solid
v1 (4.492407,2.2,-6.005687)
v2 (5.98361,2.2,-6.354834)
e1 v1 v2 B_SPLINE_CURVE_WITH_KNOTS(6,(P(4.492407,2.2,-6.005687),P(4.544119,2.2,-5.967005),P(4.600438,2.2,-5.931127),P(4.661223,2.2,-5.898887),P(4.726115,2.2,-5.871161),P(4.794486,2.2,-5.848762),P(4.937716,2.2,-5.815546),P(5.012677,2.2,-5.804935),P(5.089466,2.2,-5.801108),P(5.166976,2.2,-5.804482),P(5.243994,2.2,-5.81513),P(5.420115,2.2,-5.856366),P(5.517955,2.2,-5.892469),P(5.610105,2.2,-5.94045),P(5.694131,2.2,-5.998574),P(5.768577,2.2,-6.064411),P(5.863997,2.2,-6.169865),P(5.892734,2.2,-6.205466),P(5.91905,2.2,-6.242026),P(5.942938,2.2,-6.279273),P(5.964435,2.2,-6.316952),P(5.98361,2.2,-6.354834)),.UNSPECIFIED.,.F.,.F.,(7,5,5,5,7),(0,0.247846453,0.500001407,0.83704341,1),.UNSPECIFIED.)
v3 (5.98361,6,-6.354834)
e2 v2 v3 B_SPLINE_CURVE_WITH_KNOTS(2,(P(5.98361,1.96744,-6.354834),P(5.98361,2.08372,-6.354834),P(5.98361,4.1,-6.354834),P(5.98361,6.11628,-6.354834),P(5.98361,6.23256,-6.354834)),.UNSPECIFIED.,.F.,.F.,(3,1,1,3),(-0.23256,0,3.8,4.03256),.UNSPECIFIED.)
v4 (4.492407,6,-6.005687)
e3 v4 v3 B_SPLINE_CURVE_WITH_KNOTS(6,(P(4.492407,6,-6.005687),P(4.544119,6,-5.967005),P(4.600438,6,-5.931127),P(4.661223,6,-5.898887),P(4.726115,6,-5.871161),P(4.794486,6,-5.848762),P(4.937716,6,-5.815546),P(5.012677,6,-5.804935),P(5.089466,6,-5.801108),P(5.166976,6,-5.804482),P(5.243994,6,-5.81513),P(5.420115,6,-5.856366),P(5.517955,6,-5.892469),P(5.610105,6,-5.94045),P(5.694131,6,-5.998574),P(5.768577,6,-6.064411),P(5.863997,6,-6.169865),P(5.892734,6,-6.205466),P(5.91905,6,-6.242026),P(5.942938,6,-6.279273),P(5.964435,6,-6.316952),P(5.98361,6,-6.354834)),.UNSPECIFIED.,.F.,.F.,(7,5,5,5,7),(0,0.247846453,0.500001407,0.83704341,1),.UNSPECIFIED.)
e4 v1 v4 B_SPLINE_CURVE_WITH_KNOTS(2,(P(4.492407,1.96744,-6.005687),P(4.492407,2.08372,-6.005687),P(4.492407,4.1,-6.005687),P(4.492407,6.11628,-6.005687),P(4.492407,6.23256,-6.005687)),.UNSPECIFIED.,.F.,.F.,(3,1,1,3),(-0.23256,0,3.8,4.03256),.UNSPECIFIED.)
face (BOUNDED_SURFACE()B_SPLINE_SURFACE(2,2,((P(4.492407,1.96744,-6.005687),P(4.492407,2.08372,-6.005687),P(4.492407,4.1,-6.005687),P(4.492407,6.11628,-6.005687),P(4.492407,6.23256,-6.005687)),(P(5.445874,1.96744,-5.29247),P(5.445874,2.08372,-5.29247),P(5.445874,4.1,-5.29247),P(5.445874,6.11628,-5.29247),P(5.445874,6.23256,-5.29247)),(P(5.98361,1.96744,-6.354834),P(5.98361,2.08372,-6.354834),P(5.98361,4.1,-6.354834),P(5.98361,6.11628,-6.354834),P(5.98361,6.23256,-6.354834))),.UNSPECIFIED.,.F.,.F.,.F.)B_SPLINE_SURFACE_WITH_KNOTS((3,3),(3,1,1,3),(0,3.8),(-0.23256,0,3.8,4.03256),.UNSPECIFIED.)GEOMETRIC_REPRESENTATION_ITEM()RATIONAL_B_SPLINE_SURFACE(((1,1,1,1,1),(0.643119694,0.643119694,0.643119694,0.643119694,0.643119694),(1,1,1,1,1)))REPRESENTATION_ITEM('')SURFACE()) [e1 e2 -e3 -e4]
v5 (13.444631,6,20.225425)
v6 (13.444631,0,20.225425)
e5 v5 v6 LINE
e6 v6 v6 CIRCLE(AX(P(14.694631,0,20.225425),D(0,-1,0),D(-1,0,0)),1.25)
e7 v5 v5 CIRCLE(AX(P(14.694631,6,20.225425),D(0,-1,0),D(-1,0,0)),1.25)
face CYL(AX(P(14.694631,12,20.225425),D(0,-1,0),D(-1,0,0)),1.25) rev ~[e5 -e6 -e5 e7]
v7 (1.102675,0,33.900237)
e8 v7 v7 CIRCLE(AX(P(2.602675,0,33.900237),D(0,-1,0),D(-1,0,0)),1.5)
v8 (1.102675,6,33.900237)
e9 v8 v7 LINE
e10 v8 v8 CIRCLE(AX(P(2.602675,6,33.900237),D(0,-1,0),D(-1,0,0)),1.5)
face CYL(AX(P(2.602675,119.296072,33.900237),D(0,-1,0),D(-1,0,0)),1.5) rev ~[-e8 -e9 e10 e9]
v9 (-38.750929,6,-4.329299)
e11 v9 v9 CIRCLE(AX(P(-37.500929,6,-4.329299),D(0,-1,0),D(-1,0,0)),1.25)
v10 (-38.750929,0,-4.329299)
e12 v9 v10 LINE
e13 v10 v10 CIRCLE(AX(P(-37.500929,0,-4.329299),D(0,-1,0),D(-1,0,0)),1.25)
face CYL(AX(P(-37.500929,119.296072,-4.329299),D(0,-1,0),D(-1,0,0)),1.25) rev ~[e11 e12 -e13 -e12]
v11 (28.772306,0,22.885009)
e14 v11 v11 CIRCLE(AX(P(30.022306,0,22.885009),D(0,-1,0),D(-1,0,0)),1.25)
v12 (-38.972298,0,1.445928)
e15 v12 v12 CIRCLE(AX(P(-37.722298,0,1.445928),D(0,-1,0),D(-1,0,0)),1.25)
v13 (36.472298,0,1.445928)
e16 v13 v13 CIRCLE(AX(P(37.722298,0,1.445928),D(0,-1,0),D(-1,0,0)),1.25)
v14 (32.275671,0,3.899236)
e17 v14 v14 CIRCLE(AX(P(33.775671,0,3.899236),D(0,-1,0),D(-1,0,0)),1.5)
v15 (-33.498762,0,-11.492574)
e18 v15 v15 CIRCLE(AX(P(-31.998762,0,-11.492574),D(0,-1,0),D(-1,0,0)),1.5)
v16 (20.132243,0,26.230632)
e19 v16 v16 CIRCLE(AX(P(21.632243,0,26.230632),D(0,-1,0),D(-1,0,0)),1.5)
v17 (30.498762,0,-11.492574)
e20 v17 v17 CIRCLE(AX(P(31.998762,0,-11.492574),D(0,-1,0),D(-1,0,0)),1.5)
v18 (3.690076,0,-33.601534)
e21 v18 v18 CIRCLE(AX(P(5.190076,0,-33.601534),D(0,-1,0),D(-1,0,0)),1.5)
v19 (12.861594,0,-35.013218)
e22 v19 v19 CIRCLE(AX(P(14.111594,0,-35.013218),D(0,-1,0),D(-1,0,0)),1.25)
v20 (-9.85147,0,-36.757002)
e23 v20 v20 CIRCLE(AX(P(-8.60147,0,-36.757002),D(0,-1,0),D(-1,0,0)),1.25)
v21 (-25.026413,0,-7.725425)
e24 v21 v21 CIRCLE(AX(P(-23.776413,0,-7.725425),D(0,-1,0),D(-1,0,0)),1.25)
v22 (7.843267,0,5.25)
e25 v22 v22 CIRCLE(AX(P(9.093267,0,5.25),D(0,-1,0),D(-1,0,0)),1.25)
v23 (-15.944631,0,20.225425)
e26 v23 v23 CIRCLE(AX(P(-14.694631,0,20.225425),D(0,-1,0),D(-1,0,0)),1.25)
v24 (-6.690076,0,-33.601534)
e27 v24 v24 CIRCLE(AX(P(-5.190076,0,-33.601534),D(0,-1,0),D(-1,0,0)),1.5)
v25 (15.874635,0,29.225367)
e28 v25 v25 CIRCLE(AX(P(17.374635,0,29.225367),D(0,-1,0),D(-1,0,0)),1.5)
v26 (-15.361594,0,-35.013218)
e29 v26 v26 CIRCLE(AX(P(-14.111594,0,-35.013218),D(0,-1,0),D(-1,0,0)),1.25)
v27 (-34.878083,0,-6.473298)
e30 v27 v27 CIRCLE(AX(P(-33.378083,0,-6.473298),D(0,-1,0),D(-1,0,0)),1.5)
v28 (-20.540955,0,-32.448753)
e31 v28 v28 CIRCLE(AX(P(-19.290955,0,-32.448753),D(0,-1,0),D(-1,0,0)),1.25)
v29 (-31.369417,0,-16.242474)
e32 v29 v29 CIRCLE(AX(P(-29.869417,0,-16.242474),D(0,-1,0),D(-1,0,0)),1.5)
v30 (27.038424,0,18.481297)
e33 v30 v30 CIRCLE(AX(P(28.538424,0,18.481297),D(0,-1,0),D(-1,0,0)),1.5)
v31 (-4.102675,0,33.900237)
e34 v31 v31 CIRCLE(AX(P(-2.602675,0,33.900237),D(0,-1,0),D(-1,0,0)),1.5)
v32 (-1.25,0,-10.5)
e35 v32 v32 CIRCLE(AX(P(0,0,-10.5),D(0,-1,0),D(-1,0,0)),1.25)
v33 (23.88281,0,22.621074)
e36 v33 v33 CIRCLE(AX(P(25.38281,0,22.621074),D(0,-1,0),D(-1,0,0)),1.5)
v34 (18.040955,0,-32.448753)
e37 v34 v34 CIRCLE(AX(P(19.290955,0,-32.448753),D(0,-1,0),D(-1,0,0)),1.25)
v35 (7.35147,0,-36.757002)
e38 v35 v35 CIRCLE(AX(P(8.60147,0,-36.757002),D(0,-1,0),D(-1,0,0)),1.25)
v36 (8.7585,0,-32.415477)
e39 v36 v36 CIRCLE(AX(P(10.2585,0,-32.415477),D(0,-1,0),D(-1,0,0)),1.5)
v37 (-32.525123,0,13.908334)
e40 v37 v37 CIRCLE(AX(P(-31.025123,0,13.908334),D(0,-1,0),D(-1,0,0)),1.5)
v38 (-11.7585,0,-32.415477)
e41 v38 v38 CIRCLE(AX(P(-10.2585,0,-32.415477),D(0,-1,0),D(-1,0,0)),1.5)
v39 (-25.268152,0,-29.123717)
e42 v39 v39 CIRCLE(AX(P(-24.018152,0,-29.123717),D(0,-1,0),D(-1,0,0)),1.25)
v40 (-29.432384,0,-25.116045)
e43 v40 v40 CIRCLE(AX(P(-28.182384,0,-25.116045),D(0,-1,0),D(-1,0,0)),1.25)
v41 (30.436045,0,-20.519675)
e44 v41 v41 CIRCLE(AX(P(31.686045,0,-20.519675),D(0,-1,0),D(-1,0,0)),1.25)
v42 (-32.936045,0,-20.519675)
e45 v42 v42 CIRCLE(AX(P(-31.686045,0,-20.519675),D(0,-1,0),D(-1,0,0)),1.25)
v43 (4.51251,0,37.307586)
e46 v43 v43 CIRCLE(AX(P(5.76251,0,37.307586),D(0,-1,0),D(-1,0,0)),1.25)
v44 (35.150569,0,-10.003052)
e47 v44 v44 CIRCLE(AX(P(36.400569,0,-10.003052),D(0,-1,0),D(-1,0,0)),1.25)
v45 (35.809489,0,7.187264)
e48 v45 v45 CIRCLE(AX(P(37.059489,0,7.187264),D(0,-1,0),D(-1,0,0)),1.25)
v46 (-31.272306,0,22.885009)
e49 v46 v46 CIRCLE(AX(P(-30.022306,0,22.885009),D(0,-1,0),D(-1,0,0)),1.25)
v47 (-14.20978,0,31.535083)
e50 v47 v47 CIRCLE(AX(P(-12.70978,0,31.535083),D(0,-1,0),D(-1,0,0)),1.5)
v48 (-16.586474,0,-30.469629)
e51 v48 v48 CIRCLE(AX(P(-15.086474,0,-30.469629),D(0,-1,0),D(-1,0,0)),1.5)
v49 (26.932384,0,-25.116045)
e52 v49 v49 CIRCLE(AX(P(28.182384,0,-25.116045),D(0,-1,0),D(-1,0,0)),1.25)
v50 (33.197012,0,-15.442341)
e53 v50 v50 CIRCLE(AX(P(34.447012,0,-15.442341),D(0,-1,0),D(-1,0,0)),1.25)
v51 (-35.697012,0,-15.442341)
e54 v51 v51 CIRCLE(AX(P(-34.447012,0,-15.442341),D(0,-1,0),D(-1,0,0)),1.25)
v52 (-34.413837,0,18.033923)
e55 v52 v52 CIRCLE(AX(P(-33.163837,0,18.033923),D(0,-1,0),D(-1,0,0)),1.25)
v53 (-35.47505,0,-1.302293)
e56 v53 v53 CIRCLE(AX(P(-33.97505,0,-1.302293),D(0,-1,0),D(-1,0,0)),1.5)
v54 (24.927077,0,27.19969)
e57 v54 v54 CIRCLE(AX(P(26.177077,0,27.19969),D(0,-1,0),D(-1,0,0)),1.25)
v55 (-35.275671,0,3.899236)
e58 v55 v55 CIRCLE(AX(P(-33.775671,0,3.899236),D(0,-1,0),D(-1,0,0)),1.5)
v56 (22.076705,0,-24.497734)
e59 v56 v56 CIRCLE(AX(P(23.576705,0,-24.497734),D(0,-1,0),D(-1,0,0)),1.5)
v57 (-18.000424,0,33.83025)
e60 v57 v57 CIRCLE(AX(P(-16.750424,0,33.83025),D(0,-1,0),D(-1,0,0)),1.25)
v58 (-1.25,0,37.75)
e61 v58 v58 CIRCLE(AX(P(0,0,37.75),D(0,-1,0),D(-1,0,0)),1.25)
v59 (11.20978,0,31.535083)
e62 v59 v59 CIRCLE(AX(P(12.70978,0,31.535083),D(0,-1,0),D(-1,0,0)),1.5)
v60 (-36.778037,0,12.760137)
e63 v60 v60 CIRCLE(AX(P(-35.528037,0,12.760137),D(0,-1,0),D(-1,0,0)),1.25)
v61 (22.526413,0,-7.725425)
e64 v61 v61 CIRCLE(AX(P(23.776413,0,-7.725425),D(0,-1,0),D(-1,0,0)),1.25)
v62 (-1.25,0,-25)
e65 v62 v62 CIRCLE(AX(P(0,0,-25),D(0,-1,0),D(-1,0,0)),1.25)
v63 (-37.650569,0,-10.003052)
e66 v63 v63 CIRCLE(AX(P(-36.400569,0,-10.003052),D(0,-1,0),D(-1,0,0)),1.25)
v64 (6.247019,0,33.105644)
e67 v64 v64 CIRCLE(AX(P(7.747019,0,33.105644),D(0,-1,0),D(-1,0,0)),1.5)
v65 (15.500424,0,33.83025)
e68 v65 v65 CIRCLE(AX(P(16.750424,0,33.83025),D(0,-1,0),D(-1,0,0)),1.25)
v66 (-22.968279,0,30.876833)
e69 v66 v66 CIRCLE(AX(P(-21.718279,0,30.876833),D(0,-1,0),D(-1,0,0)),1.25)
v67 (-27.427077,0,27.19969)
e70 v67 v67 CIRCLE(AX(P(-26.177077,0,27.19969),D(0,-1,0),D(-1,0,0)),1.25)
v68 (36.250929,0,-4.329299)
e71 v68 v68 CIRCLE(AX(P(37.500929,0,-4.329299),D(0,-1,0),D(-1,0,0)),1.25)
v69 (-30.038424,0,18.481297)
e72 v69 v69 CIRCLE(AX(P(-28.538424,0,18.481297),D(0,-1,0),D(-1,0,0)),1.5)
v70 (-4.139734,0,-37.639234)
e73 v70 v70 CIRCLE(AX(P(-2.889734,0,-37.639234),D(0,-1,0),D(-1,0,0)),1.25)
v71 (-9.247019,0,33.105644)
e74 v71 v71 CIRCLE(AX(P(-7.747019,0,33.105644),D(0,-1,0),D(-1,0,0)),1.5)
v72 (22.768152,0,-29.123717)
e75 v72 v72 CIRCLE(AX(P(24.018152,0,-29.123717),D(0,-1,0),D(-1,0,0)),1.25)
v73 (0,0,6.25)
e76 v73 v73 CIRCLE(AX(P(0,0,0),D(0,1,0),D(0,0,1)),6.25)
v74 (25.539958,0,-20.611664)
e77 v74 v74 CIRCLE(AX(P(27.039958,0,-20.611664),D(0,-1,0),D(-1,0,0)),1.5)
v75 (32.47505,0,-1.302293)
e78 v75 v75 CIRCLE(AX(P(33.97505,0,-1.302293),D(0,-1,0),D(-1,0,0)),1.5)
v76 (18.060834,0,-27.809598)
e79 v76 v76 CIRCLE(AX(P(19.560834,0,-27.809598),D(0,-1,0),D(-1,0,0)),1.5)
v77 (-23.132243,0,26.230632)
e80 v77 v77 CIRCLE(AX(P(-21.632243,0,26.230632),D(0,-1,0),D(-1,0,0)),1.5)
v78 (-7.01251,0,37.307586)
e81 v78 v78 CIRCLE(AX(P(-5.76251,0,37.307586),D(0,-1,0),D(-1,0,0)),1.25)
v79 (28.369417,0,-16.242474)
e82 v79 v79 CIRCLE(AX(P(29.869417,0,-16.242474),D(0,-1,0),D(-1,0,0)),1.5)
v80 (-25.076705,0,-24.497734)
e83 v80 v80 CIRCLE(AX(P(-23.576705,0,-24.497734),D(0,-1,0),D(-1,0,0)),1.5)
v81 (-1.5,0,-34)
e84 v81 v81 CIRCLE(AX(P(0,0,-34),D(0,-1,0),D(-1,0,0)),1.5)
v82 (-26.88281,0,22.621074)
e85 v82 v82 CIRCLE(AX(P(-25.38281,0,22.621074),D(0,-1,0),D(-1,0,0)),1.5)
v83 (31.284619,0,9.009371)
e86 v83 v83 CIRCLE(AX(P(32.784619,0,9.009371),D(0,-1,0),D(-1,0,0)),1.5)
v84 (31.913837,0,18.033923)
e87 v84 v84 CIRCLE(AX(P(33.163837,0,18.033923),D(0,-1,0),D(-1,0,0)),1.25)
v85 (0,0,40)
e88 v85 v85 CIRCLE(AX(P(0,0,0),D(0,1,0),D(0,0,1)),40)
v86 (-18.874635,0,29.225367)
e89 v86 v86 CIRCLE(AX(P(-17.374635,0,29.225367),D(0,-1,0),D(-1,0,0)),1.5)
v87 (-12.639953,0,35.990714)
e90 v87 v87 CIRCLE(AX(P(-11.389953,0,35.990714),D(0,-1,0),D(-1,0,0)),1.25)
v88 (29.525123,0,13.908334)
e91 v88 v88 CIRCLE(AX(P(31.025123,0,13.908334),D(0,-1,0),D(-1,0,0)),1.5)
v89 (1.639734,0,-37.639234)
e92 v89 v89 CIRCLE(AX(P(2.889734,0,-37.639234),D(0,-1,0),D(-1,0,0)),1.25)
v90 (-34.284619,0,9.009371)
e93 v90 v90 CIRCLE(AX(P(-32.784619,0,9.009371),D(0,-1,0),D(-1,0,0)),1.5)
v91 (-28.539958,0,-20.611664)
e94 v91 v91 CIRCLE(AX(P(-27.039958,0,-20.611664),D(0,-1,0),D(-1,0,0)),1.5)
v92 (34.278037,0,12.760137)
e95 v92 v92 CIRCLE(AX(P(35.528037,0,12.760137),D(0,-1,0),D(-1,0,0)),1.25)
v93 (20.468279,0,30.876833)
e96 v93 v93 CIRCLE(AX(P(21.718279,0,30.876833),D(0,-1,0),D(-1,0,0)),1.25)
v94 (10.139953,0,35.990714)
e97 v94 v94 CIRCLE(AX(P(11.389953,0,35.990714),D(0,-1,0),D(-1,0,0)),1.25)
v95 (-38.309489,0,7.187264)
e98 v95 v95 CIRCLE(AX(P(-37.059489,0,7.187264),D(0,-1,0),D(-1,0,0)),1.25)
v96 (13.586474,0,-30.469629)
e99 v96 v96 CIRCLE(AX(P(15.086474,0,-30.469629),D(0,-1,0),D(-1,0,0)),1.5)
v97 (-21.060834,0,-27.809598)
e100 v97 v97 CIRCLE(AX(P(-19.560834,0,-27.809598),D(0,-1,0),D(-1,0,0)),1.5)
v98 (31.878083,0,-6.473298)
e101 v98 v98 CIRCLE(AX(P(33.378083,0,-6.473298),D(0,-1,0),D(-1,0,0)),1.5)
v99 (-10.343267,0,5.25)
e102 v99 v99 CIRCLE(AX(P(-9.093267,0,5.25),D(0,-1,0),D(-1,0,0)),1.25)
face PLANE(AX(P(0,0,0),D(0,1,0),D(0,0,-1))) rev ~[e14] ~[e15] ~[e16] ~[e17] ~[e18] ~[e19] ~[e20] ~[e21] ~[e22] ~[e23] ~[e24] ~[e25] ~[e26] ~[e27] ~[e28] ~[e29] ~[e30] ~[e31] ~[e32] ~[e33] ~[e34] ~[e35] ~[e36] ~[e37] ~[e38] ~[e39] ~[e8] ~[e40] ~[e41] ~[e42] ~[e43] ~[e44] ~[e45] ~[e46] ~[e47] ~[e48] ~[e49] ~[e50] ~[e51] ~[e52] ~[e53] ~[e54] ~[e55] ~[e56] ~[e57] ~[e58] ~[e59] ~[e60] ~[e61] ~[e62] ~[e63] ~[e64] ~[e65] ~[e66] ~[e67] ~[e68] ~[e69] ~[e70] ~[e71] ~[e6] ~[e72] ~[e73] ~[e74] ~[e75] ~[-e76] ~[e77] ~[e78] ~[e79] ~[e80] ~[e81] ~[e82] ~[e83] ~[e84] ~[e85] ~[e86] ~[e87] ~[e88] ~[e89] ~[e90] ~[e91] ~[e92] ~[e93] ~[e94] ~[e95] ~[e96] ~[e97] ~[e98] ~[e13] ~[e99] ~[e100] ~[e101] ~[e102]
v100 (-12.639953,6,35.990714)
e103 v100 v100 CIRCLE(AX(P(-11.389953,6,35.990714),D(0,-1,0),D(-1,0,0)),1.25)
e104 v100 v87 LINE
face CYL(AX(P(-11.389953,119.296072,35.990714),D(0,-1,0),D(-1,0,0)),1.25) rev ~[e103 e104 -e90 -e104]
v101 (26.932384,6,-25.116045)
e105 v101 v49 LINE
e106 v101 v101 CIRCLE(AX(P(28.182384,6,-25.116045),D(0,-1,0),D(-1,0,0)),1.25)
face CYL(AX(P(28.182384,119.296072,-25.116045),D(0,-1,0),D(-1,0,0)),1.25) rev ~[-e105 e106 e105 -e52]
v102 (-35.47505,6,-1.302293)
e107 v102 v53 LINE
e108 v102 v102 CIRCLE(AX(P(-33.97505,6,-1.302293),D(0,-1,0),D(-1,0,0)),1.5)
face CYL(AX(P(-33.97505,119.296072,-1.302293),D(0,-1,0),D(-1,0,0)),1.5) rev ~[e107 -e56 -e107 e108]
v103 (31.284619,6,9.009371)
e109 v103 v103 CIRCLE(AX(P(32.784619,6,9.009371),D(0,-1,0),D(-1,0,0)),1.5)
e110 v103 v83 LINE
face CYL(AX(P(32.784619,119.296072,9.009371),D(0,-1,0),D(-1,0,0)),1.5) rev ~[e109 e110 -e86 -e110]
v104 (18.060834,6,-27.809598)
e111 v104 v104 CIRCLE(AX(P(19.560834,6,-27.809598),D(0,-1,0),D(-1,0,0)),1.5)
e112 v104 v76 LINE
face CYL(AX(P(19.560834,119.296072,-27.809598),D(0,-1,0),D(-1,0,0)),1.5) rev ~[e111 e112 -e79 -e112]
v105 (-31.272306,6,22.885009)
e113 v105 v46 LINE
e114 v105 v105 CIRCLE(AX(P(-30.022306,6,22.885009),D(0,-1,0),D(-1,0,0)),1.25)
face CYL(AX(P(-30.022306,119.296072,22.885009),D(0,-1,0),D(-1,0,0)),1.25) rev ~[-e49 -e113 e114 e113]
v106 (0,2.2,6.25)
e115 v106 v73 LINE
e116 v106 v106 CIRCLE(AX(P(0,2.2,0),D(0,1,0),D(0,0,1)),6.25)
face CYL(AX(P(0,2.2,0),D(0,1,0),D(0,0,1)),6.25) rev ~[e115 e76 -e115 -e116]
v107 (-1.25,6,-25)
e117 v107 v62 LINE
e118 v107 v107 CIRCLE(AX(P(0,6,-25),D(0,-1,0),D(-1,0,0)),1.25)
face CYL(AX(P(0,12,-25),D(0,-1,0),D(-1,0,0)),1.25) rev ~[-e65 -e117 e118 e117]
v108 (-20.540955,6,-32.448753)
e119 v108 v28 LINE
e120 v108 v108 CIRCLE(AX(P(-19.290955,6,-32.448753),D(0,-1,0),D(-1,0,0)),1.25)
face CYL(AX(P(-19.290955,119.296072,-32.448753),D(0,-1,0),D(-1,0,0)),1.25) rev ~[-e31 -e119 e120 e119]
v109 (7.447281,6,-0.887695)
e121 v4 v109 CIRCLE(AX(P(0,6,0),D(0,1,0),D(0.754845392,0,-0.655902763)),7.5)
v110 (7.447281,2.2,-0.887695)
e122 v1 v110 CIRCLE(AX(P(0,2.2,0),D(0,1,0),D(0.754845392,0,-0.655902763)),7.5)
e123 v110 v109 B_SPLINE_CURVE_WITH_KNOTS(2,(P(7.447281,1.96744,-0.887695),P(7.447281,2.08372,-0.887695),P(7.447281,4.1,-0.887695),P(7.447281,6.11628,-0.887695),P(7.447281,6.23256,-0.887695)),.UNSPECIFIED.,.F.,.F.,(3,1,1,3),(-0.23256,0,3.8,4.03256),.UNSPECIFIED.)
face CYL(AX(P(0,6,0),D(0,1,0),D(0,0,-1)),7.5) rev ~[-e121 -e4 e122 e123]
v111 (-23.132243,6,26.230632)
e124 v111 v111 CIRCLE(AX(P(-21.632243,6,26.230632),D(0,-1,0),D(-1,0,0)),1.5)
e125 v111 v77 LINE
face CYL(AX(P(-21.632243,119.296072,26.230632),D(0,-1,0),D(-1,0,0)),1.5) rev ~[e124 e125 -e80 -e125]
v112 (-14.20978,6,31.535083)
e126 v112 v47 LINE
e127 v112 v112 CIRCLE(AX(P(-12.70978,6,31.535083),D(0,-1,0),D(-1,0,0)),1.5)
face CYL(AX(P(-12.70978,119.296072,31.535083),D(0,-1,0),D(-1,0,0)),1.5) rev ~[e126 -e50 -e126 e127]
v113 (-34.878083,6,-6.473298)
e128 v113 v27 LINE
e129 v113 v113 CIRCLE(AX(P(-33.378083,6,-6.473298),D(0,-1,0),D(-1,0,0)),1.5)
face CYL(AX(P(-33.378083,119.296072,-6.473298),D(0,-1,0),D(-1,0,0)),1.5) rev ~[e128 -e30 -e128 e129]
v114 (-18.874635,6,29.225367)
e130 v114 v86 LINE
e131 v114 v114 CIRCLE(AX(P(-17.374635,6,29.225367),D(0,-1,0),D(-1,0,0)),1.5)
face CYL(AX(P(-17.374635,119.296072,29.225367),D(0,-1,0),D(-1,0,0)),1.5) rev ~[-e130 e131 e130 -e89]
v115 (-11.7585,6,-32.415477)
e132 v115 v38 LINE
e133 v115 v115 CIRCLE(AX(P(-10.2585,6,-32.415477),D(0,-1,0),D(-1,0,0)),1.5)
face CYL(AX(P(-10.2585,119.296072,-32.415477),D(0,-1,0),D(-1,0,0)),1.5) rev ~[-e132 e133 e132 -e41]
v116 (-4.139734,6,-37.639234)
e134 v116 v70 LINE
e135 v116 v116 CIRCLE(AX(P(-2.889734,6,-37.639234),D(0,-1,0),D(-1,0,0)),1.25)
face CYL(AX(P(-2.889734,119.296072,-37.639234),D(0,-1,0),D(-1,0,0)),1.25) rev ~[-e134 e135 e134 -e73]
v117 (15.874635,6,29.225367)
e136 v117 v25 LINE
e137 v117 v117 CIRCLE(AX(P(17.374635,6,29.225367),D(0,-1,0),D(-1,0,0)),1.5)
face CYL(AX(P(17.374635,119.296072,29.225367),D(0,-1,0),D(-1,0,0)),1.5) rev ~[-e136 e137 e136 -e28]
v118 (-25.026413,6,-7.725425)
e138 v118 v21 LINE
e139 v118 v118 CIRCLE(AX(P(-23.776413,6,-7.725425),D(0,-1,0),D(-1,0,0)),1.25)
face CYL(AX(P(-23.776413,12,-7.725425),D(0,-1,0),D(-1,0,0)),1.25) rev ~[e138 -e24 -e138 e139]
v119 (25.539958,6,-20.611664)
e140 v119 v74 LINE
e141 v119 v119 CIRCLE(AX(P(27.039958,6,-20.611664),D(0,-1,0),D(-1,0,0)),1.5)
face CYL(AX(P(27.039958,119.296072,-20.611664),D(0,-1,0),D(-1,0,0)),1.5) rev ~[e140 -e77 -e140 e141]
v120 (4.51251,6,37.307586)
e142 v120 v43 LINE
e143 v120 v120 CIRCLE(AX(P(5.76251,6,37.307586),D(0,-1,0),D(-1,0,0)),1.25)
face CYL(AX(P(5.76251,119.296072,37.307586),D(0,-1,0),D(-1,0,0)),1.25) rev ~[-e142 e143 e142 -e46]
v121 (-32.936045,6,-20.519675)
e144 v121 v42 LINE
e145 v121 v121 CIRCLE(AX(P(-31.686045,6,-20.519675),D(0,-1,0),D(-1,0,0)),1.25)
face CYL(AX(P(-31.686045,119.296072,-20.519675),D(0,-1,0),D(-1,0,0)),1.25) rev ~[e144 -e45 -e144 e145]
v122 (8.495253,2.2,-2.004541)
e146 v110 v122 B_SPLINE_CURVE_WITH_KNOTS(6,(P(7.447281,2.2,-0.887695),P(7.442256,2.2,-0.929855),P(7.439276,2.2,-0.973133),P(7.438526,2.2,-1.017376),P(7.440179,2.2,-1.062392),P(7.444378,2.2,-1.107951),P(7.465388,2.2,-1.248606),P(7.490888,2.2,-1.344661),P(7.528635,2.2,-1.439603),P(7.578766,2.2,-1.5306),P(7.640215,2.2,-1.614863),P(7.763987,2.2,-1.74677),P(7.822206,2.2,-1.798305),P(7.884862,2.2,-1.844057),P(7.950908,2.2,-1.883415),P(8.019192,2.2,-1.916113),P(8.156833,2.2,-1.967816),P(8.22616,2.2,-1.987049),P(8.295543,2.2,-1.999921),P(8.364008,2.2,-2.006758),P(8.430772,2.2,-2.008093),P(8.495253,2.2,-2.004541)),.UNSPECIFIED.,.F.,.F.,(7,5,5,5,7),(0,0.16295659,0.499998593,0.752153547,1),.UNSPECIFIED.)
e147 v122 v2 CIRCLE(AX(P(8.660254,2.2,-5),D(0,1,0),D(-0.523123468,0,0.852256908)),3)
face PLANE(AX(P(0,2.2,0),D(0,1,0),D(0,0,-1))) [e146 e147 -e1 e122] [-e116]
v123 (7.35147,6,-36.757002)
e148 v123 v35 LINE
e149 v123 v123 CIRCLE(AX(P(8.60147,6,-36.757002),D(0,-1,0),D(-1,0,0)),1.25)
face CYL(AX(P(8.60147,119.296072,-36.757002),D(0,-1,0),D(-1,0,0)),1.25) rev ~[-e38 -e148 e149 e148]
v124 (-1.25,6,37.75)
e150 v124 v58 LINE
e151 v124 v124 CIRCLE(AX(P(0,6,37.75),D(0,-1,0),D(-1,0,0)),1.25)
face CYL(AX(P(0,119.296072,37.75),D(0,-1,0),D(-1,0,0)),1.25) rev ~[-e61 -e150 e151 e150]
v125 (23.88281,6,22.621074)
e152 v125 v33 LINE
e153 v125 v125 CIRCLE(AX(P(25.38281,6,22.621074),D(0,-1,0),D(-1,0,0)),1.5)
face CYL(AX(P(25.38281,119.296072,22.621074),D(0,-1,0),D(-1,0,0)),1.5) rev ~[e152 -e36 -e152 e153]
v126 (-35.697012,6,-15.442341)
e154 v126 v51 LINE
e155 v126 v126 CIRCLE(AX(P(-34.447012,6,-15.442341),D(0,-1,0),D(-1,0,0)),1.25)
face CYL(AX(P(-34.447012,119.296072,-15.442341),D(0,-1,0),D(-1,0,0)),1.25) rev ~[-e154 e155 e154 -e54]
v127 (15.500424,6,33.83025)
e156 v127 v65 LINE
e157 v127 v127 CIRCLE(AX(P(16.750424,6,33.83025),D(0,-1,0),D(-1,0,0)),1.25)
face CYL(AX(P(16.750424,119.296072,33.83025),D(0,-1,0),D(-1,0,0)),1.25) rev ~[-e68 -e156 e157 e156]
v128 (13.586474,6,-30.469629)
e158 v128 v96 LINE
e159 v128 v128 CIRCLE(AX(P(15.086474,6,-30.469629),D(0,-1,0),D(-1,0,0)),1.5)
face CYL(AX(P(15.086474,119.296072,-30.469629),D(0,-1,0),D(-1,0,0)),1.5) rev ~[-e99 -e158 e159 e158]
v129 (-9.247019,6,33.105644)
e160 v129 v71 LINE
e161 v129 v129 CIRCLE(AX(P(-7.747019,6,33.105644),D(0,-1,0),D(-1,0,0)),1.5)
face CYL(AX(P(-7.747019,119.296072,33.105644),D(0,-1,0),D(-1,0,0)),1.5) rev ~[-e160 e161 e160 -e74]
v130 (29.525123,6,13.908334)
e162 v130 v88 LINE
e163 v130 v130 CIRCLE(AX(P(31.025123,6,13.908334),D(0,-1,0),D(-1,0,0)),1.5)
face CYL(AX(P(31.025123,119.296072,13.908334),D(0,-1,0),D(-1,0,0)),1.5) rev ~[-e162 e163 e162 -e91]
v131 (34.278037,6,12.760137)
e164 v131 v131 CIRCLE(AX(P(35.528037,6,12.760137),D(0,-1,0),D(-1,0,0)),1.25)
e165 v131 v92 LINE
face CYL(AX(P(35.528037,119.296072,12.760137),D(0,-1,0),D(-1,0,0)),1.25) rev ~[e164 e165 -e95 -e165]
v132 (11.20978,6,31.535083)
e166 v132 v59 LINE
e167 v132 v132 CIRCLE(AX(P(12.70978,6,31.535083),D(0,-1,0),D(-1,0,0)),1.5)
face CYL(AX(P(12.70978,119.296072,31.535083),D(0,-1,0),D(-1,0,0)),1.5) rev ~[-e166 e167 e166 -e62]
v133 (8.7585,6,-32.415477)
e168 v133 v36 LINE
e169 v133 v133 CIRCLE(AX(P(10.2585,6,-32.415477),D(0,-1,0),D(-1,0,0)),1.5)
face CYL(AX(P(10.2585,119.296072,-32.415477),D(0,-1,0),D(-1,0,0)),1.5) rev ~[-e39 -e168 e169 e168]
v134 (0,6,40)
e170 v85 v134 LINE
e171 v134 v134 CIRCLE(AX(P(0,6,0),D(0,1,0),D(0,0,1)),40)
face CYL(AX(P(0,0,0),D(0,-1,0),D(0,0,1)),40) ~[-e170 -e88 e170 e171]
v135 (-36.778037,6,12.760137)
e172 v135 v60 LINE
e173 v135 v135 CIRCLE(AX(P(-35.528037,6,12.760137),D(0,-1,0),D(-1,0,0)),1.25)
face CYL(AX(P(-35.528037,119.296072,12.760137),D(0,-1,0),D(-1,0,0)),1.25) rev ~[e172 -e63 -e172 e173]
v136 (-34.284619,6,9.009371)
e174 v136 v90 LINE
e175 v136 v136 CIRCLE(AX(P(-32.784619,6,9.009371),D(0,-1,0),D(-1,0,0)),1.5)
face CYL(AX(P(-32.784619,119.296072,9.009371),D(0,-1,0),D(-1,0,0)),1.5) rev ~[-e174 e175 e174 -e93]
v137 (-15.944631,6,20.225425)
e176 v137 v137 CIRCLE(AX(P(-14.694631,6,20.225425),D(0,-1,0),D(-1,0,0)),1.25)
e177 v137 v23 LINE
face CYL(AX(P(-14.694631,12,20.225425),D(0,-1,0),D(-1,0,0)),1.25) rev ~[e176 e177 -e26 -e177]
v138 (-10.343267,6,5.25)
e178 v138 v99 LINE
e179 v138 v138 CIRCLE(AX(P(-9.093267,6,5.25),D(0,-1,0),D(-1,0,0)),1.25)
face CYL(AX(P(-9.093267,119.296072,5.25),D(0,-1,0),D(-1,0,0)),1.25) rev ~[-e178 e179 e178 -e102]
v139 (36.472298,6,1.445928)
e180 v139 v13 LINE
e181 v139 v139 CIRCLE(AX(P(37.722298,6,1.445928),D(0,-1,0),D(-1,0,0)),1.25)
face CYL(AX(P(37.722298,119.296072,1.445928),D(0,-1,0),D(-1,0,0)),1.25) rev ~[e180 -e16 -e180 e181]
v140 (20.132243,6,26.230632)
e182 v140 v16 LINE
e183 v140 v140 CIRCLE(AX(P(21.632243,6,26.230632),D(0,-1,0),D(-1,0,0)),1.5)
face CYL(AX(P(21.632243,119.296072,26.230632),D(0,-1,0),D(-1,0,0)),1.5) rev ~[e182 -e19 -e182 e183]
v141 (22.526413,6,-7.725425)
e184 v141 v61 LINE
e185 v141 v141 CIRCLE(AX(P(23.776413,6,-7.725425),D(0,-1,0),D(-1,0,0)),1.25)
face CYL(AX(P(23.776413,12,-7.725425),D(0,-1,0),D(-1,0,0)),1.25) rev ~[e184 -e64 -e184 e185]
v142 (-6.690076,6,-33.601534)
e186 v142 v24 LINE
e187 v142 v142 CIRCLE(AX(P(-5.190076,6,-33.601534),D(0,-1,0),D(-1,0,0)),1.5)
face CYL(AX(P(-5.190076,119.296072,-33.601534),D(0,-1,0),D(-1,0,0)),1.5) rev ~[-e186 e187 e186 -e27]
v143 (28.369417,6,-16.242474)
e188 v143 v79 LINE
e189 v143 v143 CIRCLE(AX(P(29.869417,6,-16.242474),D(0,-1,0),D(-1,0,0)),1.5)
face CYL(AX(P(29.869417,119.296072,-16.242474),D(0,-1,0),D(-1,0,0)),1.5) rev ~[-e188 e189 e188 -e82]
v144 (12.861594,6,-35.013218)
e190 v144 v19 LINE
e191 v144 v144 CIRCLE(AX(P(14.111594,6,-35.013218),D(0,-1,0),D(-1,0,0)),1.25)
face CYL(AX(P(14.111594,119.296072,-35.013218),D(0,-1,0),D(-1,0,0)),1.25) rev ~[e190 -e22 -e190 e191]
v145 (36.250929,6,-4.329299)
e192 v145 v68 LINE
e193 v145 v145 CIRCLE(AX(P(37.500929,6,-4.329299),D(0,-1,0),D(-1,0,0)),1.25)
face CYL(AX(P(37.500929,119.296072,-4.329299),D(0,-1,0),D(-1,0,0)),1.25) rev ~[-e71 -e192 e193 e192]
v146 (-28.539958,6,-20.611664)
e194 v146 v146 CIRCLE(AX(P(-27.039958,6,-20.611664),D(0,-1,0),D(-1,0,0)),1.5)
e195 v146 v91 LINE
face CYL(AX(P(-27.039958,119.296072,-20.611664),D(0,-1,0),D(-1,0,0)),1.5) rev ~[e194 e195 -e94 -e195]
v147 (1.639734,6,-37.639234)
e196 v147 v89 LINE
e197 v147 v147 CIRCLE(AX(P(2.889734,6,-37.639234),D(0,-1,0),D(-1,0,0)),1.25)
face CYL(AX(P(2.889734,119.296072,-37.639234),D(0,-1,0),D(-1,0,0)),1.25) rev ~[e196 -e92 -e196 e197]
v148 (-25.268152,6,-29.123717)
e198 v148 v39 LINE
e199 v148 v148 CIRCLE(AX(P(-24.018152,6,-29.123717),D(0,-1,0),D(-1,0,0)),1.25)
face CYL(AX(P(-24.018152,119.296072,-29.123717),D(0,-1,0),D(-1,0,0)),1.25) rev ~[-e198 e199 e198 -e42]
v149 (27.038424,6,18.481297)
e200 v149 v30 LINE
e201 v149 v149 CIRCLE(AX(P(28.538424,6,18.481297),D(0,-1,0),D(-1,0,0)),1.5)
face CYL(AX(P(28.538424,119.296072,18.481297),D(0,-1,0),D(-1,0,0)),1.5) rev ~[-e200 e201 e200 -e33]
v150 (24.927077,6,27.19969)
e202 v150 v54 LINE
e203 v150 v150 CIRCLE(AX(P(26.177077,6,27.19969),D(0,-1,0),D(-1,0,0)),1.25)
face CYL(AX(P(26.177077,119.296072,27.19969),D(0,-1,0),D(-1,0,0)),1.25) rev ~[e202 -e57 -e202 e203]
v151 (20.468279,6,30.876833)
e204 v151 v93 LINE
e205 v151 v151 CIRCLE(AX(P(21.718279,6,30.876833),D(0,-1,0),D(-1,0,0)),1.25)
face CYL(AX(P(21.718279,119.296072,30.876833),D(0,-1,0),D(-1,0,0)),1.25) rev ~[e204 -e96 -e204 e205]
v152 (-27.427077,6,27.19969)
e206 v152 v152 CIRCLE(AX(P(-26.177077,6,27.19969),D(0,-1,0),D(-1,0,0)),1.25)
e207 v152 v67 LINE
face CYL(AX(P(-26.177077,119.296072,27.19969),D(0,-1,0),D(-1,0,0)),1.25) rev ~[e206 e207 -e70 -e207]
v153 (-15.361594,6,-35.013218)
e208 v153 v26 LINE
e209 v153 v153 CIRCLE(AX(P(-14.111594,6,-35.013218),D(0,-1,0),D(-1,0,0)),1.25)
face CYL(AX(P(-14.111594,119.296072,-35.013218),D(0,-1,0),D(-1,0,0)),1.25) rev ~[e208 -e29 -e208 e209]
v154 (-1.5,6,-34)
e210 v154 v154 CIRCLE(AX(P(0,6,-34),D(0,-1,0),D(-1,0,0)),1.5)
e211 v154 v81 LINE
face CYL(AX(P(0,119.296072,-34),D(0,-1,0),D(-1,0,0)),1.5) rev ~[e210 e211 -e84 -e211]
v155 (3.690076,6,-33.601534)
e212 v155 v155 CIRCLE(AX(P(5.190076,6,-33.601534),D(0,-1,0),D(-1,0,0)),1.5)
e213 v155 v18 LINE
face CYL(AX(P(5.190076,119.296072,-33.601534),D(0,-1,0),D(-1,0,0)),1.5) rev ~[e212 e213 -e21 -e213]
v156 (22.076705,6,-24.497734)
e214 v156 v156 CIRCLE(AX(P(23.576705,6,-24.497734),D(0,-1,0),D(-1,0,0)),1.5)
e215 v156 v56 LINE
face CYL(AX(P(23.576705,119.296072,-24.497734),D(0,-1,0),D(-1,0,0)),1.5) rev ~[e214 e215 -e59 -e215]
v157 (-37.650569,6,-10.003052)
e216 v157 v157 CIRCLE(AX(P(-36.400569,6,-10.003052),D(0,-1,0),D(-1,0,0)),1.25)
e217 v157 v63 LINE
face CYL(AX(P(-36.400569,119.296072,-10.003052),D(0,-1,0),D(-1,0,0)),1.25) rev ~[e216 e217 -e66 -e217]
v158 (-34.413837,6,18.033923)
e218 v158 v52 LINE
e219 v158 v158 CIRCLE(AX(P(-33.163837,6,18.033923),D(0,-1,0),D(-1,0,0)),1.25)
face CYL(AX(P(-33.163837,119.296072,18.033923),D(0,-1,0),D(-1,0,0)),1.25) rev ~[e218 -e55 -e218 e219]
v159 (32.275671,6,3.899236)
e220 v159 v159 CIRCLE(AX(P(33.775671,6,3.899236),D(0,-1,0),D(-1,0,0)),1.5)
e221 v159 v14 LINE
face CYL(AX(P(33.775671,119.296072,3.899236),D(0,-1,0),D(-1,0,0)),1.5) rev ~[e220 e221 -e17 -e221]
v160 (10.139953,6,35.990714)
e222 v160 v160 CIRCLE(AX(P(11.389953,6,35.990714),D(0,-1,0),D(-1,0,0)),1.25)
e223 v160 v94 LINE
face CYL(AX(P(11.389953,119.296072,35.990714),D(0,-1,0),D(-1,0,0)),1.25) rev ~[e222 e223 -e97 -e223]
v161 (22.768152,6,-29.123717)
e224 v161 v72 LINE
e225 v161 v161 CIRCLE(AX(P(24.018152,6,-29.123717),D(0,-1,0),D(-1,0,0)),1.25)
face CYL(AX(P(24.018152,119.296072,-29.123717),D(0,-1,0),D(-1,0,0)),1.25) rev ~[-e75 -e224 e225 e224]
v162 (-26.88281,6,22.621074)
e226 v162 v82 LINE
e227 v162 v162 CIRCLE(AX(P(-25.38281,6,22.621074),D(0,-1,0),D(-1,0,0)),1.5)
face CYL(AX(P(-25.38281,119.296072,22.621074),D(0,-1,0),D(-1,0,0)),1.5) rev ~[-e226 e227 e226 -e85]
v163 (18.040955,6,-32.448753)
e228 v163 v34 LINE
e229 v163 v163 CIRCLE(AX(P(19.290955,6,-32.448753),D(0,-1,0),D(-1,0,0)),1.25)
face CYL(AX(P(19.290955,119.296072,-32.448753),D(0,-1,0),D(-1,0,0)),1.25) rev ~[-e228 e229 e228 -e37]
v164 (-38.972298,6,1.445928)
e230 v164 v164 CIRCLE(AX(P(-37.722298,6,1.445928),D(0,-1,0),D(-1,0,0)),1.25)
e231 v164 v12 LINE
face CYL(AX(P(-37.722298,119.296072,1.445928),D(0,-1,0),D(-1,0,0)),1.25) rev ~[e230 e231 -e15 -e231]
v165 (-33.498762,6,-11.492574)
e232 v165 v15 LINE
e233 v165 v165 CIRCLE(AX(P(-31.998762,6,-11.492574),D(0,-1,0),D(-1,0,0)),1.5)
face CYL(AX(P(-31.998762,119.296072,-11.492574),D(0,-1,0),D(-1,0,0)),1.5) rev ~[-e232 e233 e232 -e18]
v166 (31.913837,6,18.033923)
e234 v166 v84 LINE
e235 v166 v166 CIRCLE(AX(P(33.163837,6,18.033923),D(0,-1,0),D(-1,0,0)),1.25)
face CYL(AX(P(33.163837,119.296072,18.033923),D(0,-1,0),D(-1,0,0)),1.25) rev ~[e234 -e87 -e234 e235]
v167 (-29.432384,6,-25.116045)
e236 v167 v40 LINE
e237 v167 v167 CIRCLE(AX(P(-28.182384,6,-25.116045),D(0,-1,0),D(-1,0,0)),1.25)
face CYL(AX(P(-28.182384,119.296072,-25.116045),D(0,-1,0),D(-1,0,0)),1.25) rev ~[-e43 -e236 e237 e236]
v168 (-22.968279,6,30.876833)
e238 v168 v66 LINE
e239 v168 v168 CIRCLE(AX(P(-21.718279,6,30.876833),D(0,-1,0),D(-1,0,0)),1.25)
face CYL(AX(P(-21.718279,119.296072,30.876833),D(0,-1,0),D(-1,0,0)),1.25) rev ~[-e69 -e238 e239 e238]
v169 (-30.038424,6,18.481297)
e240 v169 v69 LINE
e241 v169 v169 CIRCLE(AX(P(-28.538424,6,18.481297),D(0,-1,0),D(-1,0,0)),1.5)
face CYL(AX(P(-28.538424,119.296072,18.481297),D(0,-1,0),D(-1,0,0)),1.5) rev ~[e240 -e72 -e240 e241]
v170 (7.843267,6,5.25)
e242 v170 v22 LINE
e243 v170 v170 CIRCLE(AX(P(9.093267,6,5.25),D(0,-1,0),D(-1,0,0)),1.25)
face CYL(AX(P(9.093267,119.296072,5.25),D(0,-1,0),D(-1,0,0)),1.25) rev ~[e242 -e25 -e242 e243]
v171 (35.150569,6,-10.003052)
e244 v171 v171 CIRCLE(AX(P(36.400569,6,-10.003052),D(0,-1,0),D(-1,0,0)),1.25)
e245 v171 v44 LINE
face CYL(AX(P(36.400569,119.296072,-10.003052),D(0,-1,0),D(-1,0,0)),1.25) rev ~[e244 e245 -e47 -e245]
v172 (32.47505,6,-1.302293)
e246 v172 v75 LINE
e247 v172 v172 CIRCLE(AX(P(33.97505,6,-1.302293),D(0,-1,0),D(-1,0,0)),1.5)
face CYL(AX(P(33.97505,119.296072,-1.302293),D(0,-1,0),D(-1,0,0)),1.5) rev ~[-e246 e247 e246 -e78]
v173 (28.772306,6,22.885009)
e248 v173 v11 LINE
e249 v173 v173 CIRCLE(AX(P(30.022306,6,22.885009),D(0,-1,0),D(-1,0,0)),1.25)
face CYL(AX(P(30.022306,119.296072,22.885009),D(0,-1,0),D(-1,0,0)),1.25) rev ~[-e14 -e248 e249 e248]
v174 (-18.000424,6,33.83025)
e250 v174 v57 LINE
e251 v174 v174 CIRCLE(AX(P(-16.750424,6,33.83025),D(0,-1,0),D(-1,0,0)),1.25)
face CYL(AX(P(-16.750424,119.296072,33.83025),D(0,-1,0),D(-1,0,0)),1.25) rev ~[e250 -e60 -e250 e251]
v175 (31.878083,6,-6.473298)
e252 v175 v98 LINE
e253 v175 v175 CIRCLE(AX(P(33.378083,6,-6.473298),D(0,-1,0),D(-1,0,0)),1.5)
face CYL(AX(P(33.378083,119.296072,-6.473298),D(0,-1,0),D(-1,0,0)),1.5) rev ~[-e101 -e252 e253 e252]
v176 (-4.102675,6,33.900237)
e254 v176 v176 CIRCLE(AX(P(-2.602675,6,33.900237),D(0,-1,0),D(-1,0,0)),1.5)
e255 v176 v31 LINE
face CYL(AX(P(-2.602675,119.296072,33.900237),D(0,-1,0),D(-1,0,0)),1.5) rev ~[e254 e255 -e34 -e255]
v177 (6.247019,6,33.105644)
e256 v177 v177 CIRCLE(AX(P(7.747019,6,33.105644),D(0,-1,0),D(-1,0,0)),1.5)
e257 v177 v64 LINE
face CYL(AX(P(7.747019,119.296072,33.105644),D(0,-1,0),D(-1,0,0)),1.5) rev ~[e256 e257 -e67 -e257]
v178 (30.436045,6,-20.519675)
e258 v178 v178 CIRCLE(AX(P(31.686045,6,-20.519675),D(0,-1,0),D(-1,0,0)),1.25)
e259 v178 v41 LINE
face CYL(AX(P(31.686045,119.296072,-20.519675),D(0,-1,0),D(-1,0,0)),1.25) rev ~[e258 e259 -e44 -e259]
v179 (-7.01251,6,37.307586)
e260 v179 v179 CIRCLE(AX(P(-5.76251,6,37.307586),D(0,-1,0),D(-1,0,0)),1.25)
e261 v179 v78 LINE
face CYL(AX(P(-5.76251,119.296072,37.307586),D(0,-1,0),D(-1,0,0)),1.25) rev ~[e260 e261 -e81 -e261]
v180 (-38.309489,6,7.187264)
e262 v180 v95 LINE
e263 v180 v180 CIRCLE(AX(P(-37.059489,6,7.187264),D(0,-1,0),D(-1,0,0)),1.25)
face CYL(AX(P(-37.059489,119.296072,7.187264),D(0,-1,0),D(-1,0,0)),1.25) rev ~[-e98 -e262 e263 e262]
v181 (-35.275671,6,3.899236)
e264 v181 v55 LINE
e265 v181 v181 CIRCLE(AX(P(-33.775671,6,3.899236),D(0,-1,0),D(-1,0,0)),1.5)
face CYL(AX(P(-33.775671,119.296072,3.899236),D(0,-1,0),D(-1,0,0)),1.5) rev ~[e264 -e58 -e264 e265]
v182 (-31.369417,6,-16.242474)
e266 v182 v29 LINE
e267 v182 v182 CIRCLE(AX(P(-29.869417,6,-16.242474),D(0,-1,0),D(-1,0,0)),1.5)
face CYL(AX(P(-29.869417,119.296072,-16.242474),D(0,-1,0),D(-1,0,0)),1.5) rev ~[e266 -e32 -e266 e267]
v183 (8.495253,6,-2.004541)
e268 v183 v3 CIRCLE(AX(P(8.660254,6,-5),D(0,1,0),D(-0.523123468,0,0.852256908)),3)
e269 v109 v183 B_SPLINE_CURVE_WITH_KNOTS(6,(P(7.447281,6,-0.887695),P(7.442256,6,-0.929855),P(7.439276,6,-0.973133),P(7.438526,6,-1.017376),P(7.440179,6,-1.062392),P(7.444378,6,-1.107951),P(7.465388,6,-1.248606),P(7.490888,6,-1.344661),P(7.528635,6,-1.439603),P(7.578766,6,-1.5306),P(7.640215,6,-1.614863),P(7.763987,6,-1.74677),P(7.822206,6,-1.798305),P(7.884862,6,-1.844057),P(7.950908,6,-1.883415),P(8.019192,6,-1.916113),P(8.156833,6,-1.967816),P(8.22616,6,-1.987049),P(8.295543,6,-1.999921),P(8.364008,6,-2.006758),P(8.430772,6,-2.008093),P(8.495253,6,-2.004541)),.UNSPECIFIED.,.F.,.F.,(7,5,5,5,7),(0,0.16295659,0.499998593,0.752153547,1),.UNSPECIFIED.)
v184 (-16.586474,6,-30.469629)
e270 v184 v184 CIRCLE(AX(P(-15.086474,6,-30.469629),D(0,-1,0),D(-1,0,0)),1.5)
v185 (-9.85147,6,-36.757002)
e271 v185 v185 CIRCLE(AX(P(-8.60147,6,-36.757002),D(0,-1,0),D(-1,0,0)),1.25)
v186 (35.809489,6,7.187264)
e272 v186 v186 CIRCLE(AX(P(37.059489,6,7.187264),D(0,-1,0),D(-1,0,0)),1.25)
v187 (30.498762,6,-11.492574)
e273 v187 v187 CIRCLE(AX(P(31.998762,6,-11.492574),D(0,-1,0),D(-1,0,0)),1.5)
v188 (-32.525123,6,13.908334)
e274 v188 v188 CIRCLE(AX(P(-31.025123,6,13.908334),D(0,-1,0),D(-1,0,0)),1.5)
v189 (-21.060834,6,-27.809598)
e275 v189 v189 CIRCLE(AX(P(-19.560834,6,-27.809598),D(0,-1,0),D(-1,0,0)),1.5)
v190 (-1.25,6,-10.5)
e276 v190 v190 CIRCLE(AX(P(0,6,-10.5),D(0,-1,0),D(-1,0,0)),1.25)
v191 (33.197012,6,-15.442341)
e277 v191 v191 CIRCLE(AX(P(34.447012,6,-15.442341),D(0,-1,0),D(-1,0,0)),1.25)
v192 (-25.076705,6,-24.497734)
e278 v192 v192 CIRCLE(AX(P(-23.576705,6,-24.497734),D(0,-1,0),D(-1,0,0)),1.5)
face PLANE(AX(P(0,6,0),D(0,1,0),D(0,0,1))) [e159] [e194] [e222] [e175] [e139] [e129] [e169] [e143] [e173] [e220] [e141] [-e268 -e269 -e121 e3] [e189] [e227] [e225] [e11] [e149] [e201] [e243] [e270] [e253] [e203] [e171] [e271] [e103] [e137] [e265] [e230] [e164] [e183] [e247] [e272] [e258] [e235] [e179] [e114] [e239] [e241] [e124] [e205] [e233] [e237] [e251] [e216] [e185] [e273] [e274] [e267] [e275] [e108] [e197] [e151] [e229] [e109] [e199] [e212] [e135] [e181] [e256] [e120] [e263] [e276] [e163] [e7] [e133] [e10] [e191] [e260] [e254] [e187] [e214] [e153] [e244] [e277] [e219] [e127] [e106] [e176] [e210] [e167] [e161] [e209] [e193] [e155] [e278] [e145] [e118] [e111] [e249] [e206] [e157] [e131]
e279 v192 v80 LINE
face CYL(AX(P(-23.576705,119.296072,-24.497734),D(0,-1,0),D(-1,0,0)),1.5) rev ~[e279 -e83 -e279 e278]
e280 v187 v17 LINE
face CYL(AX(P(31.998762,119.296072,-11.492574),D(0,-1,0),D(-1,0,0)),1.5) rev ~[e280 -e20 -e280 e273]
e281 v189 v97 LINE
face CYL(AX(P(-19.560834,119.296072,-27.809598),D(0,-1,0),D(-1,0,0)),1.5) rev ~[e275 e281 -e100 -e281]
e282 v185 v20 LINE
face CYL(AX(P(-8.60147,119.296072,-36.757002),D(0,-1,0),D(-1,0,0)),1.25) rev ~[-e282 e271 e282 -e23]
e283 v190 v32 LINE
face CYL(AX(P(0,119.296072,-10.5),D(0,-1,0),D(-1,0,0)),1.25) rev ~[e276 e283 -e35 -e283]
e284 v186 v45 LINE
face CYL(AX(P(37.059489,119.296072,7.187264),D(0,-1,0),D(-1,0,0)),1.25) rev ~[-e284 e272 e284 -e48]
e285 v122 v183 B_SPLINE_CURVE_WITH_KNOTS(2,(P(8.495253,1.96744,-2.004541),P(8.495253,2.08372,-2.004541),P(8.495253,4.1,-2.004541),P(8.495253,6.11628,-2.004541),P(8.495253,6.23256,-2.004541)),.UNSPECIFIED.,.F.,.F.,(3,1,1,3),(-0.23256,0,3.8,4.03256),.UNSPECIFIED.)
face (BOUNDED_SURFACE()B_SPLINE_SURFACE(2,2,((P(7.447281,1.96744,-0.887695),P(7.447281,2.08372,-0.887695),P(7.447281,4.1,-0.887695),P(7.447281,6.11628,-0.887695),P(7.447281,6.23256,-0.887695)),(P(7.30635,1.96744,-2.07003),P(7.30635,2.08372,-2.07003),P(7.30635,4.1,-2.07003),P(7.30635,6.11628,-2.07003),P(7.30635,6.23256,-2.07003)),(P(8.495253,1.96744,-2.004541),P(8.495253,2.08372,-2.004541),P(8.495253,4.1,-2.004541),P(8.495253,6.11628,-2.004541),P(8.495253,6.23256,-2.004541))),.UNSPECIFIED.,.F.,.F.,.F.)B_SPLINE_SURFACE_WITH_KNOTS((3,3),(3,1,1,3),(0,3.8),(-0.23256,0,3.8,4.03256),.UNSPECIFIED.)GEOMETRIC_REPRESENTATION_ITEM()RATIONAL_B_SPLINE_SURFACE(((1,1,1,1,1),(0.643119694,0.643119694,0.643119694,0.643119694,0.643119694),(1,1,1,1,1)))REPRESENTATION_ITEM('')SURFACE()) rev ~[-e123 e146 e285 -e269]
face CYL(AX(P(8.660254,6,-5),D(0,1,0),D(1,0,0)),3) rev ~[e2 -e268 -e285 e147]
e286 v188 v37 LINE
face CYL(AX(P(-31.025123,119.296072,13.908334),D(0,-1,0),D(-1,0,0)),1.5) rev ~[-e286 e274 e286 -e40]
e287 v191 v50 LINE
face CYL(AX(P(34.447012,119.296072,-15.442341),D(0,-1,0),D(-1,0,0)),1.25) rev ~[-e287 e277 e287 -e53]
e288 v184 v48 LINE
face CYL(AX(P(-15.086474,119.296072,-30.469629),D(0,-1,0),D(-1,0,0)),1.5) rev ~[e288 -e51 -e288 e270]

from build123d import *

# Parameters (mm, degrees)
SKETCH1_R                          = 40
PODSTAWA_DEPTH                     = 6
PRZELOT_SPRZEGLA_REACH             = 58.886
SKETCH2_R                          = 7.5
PRZELOT_SPRZEGLA_DIRECTION_2_DEPTH = 57.885850613
WALKI_CYKLOIDY_D                   = 3
TAP_DRILL_FOR_M3_TAP1_D            = 2.5
PROG_START                         = 2.2
SKETCH9_R                          = 7.5
SKETCH9_R_2                        = 6.25
PROG_LOZYSKA_DEPTH                 = 2.2
TAP_DRILL_FOR_M3_TAP2_D            = 2.5
SKETCH12_R                         = 3
CUT_EXTRUDE1_DEPTH                 = 3.8
FILLET1_R                          = 1
TAP_DRILL_FOR_M3_TAP3_D            = 2.5
TAP_DRILL_FOR_M3_TAP3_DEPTH        = 6
TAP_DRILL_FOR_M3_TAP3_TIP          = 0.751075774


with BuildPart() as part:
    # Sketch1 → podstawa (new body)
    with BuildSketch(Plane(origin=(0, 0, 0), x_dir=(1, 0, 0), z_dir=(0, 1, 0))):
        with Locations(Location((0, 0, 0), (0, 0, 270))):
            Circle(SKETCH1_R)
    extrude(amount=PODSTAWA_DEPTH)

    # Sketch2 → przelot sprzegla (cut, up to next)
    with BuildSketch(Plane(origin=(0, 6, 0), x_dir=(1, 0, 0), z_dir=(0, 1, 0)), mode=Mode.PRIVATE) as przelot_sprzegla_sk1:
        with Locations(Location((0, 0, 0), (0, 0, 90))):
            Circle(SKETCH2_R)
    przelot_sprzegla_tool1 = extrude(przelot_sprzegla_sk1.sketch, amount=-PRZELOT_SPRZEGLA_REACH, mode=Mode.PRIVATE) & part.part
    add(przelot_sprzegla_tool1.solids().sort_by_distance((0, 6, 0))[0], mode=Mode.SUBTRACT)

    # Sketch2 → przelot sprzegla direction 2 (cut)
    with BuildSketch(Plane(origin=(0, 6, 0), x_dir=(1, 0, 0), z_dir=(0, 1, 0))):
        with Locations(Location((0, 0, 0), (0, 0, 90))):
            Circle(SKETCH2_R)
    extrude(amount=PRZELOT_SPRZEGLA_DIRECTION_2_DEPTH, mode=Mode.SUBTRACT)

    # walki cykloidy (through all)
    with Locations(Plane(origin=(0, 6, 0), x_dir=(1, 0, 0), z_dir=(0, 1, 0))):
        with Locations((0, 34), (5.190075663, 33.601534409), (10.258500352, 32.41547733), (15.086474487, 30.469628937), (19.560834447, 27.809598266), (23.576705027, 24.497734182), (27.039957623, 20.611663973), (29.869416531, 16.242473829), (31.998761631, 11.492573866), (33.37808288, 6.473297712), (33.975050156, 1.302292945), (33.775671052, -3.899236464), (32.784618845, -9.009371075), (31.02512296, -13.908333664), (28.538424488, -18.4812967), (25.382809535, -22.621073806), (21.632243039, -26.230632114), (17.374635101, -29.225366638), (12.709780443, -31.535083337), (7.747019303, -33.105644412), (2.602674596, -33.90023724), (-2.602674596, -33.90023724), (-7.747019303, -33.105644412), (-12.709780443, -31.535083337), (-17.374635101, -29.225366638), (-21.632243039, -26.230632114), (-25.382809535, -22.621073806), (-28.538424488, -18.4812967), (-31.02512296, -13.908333664), (-32.784618845, -9.009371075), (-33.775671052, -3.899236464), (-33.975050156, 1.302292945), (-33.37808288, 6.473297712), (-31.998761631, 11.492573866), (-29.869416531, 16.242473829), (-27.039957623, 20.611663973), (-23.576705027, 24.497734182), (-19.560834447, 27.809598266), (-15.086474487, 30.469628937), (-10.258500352, 32.41547733), (-5.190075663, 33.601534409)):
            Hole(WALKI_CYKLOIDY_D / 2)

    # Tap Drill for M3 Tap1 (through all)
    with Locations(Plane(origin=(0, 6, 0), x_dir=(1, 0, 0), z_dir=(0, 1, 0))):
        with Locations((-2.889734295, 37.639233995), (2.889734295, 37.639233995), (8.601469961, 36.757002251), (14.111594462, 35.013217529), (19.290955149, 32.448752664), (24.018152198, 29.123716538), (28.182384116, 25.116045181), (31.686044836, 20.519675013), (34.447011522, 15.442341053), (36.400569453, 10.003051708), (37.500928888, 4.329299309), (37.722298335, -1.445928197), (37.05948908, -7.187264371), (35.528036811, -12.76013716), (33.163837472, -18.033923149), (30.022305891, -22.885009264), (26.177076905, -27.199690158), (21.718279423, -30.876833369), (16.750423879, -33.830249775), (11.389952597, -35.9907138), (5.762510479, -37.307585998), (0, -37.75), (-5.762510479, -37.307585998), (-11.389952597, -35.9907138), (-16.750423879, -33.830249775), (-21.718279423, -30.876833369), (-26.177076905, -27.199690158), (-30.022305891, -22.885009264), (-33.163837472, -18.033923149), (-35.528036811, -12.76013716), (-37.05948908, -7.187264371), (-37.722298335, -1.445928197), (-37.500928888, 4.329299309), (-36.400569453, 10.003051708), (-34.447011522, 15.442341053), (-31.686044836, 20.519675013), (-28.182384116, 25.116045181), (-24.018152198, 29.123716538), (-19.290955149, 32.448752664), (-14.111594462, 35.013217529), (-8.601469961, 36.757002251)):
            Hole(TAP_DRILL_FOR_M3_TAP1_D / 2)

    # Sketch9 → prog lozyska (add)
    with BuildSketch(Plane(origin=(0, 0, 0), x_dir=(1, 0, 0), z_dir=(0, 1, 0)).offset(PROG_START)):
        with Locations(Location((0, 0, 0), (0, 0, 90))):
            Circle(SKETCH9_R)
        with Locations(Location((0, 0, 0), (0, 0, 270))):
            Circle(SKETCH9_R_2, mode=Mode.SUBTRACT)
    extrude(amount=-PROG_LOZYSKA_DEPTH)

    # Tap Drill for M3 Tap2 (through all)
    with Locations(Plane(origin=(0, 6, 0), x_dir=(1, 0, 0), z_dir=(0, 1, 0))):
        with Locations((0, 10.5), (9.09326674, -5.25), (-9.09326674, -5.25)):
            Hole(TAP_DRILL_FOR_M3_TAP2_D / 2)

    # Sketch12 → Cut-Extrude1 (cut)
    with BuildSketch(Plane(origin=(0, 6, 0), x_dir=(1, 0, 0), z_dir=(0, 1, 0))):
        with Locations((8.660254038, 5)):
            Circle(SKETCH12_R)
    extrude(amount=-CUT_EXTRUDE1_DEPTH, mode=Mode.SUBTRACT)

    # Fillet1
    fillet1_edges = [part.edges().sort_by_distance(p)[0] for p in [
        (7.090883633, 4.1, -2.443229276),
        (5.661340437, 4.1, -4.919270724),
    ]]
    fillet(fillet1_edges, radius=FILLET1_R)

    # Tap Drill for M3 Tap3
    with Locations(Plane(origin=(0, 6, 0), x_dir=(1, 0, 0), z_dir=(0, 1, 0))):
        with Locations((0, 25), (23.776412907, 7.725424859), (14.694631307, -20.225424859), (-14.694631307, -20.225424859), (-23.776412907, 7.725424859)):
            Hole(TAP_DRILL_FOR_M3_TAP3_D / 2, depth=TAP_DRILL_FOR_M3_TAP3_DEPTH)
            with Locations((0, 0, -(TAP_DRILL_FOR_M3_TAP3_DEPTH + TAP_DRILL_FOR_M3_TAP3_TIP / 2))):  # 118° drill point
                Cone(0, TAP_DRILL_FOR_M3_TAP3_D / 2, TAP_DRILL_FOR_M3_TAP3_TIP, mode=Mode.SUBTRACT)


solid = part.part
